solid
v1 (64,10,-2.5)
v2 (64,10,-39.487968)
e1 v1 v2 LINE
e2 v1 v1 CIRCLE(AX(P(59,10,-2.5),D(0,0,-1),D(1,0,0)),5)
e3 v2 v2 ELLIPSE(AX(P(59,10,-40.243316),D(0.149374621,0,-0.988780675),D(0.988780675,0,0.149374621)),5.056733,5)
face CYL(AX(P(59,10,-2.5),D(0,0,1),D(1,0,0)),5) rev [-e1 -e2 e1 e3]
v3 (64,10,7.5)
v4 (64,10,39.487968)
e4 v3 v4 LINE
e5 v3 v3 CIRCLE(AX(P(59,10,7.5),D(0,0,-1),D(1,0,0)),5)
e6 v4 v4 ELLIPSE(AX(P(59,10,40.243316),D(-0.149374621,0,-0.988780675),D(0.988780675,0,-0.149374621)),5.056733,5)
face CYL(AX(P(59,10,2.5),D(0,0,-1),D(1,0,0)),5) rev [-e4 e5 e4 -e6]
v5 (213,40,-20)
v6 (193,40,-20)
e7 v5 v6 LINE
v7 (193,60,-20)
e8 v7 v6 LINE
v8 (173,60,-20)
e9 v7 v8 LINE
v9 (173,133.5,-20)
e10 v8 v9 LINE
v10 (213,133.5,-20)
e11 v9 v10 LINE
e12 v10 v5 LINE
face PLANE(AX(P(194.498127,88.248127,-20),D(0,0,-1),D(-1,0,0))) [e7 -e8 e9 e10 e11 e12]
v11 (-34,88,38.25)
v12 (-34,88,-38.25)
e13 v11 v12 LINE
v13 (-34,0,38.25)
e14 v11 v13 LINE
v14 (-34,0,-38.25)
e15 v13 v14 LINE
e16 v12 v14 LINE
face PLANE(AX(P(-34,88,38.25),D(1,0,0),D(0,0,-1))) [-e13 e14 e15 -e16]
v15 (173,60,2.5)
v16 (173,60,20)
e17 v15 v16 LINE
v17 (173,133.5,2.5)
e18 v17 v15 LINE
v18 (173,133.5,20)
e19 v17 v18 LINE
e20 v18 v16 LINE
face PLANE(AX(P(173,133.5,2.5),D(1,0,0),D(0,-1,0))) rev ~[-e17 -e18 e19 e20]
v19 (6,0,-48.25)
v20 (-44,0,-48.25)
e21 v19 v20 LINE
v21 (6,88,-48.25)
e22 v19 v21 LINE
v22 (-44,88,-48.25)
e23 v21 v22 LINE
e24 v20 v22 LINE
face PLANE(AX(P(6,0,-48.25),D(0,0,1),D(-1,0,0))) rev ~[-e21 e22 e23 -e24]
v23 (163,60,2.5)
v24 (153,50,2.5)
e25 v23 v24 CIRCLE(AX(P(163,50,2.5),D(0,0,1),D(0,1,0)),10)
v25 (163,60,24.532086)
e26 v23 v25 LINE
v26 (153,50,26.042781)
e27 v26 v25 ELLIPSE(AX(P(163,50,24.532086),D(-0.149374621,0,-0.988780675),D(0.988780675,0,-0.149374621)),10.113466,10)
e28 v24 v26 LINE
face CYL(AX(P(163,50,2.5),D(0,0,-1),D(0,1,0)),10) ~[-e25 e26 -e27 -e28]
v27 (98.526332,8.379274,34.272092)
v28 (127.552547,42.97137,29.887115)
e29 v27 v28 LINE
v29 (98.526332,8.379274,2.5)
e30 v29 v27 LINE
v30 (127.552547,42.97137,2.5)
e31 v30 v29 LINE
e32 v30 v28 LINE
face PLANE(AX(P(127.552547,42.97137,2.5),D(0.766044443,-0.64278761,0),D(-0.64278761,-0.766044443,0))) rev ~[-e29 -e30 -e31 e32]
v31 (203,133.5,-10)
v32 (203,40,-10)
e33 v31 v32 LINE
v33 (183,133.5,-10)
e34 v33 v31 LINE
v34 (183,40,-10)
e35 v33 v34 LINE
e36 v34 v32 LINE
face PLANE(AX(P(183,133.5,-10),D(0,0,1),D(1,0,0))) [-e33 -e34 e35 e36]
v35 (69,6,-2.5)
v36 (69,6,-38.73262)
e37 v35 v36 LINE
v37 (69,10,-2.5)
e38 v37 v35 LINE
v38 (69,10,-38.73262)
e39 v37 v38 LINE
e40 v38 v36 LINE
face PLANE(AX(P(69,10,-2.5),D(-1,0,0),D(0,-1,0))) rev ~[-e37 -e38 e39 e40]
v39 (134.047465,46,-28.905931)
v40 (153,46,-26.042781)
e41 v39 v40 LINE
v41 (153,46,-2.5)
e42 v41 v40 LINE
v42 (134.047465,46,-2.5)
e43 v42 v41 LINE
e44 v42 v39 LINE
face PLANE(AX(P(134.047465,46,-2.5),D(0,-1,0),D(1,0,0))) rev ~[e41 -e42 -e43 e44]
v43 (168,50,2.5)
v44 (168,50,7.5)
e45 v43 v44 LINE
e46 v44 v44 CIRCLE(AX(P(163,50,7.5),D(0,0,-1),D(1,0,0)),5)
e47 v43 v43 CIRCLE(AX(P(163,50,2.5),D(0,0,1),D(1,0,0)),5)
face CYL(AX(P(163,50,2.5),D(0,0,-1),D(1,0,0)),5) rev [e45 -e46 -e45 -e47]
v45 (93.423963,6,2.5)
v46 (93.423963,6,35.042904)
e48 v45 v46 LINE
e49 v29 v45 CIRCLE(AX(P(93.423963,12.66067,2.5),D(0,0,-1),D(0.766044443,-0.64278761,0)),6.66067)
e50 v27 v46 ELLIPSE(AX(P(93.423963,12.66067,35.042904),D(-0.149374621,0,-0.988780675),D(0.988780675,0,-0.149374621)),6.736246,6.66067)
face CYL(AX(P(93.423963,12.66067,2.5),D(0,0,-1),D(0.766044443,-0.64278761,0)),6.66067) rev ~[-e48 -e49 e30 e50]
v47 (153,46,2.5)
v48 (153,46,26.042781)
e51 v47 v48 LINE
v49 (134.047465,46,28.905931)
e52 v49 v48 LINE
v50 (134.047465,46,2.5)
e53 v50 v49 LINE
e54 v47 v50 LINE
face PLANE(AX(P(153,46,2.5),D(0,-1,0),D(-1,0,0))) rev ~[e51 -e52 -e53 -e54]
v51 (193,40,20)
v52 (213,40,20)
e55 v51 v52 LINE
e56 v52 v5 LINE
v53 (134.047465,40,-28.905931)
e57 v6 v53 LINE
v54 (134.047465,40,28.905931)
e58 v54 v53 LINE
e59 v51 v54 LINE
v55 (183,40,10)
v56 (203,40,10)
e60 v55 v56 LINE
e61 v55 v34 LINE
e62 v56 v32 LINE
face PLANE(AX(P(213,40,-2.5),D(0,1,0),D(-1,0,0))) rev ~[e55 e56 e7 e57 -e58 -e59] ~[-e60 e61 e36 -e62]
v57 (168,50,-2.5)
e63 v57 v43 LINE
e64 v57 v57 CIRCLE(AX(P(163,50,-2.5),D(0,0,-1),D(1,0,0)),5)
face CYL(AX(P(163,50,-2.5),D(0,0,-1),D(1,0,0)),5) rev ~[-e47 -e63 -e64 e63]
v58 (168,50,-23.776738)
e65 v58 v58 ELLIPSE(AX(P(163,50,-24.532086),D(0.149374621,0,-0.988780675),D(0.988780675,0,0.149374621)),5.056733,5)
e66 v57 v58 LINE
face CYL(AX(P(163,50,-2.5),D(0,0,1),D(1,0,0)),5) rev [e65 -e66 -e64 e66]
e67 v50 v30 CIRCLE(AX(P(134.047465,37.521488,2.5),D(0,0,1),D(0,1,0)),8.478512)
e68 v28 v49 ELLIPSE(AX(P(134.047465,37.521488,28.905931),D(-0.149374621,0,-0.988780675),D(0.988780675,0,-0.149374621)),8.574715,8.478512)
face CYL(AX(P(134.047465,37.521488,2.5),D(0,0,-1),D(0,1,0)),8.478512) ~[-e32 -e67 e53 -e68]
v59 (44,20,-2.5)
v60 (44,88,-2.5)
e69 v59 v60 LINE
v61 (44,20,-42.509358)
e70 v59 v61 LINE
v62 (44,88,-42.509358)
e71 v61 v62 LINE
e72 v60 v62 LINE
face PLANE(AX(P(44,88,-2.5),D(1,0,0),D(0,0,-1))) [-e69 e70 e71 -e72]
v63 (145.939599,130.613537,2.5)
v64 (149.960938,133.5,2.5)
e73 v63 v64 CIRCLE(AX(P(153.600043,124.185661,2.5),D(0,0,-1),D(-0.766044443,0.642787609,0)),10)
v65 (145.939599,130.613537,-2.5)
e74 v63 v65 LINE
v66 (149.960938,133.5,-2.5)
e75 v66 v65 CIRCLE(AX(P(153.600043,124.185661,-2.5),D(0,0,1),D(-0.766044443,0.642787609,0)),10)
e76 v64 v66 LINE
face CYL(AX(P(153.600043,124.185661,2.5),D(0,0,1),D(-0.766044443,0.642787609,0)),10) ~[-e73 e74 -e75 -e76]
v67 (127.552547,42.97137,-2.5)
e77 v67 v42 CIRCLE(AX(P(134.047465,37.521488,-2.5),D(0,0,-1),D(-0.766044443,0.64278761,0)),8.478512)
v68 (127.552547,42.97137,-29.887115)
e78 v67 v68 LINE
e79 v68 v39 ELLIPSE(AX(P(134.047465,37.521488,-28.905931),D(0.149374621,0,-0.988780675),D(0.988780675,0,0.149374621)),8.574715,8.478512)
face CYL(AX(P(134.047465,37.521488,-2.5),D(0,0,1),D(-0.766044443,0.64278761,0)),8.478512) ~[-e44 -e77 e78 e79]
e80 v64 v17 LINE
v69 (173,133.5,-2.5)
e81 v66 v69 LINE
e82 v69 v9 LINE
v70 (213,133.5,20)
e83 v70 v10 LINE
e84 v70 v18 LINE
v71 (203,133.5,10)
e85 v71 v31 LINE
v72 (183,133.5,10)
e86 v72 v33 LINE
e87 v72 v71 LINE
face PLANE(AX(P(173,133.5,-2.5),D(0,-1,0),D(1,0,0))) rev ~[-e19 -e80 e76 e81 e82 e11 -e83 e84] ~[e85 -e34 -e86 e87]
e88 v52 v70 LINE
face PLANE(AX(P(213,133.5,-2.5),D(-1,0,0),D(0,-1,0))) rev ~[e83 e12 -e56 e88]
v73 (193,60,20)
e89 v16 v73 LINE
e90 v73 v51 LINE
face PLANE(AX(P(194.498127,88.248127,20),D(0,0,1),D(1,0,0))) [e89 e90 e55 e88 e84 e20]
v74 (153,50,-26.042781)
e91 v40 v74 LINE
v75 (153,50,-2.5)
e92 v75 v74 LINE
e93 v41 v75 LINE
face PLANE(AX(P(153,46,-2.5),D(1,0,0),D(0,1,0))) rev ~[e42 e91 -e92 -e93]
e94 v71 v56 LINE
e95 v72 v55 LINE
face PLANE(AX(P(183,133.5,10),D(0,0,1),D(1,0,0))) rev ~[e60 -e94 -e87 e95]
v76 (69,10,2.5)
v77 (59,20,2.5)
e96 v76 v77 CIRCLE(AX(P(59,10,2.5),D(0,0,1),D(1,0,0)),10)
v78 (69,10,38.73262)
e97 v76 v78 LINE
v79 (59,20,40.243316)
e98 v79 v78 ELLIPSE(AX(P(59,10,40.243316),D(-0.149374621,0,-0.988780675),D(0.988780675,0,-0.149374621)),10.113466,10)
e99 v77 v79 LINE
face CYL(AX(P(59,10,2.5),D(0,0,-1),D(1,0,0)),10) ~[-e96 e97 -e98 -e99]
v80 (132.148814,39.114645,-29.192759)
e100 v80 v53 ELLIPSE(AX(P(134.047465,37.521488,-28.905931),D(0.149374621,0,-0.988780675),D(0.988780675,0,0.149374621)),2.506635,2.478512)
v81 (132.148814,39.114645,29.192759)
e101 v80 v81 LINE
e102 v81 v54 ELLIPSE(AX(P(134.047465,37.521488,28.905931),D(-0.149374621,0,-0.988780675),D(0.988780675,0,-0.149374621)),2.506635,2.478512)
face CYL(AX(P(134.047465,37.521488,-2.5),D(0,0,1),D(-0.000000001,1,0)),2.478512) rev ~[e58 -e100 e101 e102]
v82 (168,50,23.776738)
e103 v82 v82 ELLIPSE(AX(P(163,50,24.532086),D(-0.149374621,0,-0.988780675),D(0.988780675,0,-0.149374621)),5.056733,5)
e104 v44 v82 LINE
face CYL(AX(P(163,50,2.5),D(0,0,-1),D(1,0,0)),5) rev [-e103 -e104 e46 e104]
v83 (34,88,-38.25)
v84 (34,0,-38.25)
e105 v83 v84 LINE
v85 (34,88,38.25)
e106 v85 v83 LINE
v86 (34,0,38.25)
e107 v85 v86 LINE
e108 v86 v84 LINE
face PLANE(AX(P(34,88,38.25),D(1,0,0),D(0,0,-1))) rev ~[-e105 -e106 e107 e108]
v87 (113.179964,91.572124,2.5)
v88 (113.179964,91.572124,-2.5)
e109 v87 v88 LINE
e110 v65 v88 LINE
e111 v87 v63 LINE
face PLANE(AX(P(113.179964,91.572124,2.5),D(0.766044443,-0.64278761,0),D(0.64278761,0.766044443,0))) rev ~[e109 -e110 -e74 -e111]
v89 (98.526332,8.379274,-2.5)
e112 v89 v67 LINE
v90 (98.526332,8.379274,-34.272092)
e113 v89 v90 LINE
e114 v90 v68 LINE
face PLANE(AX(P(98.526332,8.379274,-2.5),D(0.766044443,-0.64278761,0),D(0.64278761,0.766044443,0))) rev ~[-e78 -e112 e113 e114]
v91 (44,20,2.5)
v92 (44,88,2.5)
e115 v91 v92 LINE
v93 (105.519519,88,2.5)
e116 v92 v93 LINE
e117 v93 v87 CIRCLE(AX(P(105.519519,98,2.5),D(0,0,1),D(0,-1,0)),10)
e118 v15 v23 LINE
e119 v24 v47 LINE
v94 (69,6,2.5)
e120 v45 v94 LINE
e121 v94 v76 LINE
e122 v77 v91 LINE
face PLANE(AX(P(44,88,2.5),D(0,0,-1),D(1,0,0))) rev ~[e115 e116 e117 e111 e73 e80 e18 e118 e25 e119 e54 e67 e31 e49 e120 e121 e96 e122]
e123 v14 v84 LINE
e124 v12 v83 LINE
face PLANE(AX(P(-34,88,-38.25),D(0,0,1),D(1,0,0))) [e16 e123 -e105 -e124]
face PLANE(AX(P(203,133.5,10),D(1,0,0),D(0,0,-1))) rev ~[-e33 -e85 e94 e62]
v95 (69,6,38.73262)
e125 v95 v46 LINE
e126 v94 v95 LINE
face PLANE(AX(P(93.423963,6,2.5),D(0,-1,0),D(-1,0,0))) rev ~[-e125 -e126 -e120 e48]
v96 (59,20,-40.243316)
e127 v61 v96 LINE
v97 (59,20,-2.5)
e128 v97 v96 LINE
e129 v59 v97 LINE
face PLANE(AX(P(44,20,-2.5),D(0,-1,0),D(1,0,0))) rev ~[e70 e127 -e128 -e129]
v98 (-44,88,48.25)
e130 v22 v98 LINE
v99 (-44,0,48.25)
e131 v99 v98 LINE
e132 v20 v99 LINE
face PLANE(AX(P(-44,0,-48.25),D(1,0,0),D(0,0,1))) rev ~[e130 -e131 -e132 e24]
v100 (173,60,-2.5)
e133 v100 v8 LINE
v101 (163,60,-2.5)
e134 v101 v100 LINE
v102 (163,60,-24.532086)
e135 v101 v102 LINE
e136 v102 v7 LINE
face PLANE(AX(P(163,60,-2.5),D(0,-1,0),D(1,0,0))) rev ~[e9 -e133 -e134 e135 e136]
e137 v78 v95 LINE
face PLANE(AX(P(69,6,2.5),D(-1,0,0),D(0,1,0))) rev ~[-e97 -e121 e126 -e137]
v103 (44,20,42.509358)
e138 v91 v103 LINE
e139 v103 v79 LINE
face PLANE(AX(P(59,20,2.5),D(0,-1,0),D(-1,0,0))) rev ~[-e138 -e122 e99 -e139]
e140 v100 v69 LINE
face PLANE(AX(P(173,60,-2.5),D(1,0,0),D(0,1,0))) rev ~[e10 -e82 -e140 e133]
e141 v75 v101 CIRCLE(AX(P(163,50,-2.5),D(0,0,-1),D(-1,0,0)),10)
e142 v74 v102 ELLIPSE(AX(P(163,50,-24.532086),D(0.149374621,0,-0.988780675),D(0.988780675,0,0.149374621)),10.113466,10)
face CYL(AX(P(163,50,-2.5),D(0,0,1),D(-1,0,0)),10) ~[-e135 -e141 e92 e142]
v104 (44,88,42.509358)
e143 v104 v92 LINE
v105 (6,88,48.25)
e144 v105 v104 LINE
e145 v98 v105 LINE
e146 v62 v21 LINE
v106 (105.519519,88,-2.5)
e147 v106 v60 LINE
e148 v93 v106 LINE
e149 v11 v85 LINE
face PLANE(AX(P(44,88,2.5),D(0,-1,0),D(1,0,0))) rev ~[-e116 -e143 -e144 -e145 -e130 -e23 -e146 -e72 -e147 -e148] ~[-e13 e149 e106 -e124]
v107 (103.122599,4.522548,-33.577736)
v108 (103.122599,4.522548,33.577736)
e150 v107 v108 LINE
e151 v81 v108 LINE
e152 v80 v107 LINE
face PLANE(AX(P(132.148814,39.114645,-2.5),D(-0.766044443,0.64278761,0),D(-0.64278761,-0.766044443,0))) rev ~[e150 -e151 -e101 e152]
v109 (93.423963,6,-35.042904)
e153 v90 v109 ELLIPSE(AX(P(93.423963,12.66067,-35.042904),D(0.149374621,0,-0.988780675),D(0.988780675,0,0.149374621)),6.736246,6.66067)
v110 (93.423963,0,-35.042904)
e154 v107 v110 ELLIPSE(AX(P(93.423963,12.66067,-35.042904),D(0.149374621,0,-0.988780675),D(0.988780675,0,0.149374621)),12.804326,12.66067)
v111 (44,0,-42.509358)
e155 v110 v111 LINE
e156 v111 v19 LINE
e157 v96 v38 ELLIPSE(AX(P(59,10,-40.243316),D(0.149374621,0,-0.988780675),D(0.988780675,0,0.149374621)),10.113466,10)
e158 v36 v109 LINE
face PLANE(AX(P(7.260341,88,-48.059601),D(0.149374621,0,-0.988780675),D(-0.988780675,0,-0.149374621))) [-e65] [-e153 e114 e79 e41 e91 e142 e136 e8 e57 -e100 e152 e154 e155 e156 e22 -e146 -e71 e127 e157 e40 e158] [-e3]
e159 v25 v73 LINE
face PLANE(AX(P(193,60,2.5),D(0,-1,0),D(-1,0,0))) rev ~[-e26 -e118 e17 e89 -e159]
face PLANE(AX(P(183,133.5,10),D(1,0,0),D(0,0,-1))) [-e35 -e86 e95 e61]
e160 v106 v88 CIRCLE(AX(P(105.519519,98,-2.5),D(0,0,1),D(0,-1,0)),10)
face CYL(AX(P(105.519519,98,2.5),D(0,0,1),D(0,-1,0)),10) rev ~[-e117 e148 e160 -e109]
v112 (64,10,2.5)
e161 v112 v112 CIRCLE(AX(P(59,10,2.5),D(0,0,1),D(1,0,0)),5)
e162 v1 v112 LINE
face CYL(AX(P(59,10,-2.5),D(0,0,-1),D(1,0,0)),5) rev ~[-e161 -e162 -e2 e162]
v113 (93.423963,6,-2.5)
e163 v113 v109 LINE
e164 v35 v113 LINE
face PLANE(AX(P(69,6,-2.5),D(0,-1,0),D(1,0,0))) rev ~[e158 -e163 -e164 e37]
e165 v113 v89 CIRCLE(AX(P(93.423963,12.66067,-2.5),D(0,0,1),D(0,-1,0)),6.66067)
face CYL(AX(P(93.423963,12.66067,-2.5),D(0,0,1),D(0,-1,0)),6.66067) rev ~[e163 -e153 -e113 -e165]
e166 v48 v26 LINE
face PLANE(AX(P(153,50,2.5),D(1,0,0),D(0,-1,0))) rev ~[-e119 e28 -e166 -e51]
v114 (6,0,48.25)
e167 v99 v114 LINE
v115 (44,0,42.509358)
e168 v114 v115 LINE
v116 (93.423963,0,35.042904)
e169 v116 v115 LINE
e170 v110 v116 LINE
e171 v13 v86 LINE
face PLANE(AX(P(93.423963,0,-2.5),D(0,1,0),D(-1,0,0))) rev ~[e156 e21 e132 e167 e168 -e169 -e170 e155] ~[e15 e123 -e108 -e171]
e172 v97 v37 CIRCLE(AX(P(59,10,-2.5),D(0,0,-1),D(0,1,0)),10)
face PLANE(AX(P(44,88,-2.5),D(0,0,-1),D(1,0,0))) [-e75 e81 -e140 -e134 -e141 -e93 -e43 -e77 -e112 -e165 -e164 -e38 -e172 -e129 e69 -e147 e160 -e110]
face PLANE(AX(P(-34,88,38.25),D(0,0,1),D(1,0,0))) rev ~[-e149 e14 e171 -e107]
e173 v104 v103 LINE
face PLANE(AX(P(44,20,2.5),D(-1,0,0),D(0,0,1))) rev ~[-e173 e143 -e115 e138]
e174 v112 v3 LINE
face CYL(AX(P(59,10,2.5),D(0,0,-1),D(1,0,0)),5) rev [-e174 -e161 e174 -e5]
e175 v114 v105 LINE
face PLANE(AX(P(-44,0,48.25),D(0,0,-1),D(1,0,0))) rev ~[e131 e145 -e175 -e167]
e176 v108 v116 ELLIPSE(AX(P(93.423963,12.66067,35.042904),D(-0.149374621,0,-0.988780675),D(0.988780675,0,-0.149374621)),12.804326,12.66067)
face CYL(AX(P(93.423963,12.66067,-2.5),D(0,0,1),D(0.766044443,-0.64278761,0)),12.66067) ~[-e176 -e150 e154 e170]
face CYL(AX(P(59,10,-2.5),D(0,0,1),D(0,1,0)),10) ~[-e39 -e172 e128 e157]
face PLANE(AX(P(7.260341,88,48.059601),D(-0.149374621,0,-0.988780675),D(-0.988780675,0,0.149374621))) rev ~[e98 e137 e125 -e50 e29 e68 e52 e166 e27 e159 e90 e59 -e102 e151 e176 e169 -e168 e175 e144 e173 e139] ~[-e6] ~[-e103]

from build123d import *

# Parameters (mm, degrees)
BOSS_EXTRU_3_DEPTH       = 88
ESQUISSE4_W              = 68
ESQUISSE4_H              = 76.5
ENL_V_MAT_EXTRU_1_DEPTH  = 236.459258684
ENL_V_MAT_EXTRU_2_DEPTH  = 68
ENL_V_MAT_EXTRU_5_REACH  = 245.615
ESQUISSE6_W              = 150.690647389
ESQUISSE6_H              = 20
BOSS_EXTRU_5_DEPTH       = 20
ESQUISSE14_W             = 40
ESQUISSE14_H             = 40
ENL_V_MAT_EXTRU_6_DEPTH  = 236.459258684
BOSS_EXTRU_8_DEPTH       = 40
ENL_V_MAT_EXTRU_7_DEPTH  = 236.984242059
ESQUISSE27_W             = 169
ESQUISSE27_H             = 5
BOSS_EXTRU_9_DEPTH       = 45.5
BOSS_EXTRU_10_REACH      = 258.45
ESQUISSE28_R             = 5
ENL_V_MAT_EXTRU_9_DEPTH  = 45.5
BOSS_EXTRU_12_DEPTH      = 17.5
ENL_V_MAT_EXTRU_10_REACH = 248.129
BOSS_EXTRU_13_REACH      = 258.45
ESQUISSE34_R             = 5
BOSS_EXTRU_14_DEPTH      = 17.5
ESQUISSE36_W             = 20
ESQUISSE36_H             = 20
ENL_V_MAT_EXTRU_11_DEPTH = 256.967405152
ESQUISSE42_R             = 5
ENL_V_MAT_EXTRU_16_DEPTH = 10
ESQUISSE43_R             = 5
ENL_V_MAT_EXTRU_17_DEPTH = 10


with BuildPart() as part:
    # Esquisse1 → Boss.-Extru.3 (new body)
    with BuildSketch(Plane(origin=(0, 0, 0), x_dir=(1, 0, 0), z_dir=(0, 1, 0))):
        Polygon((193, 20), (6, 48.25), (-44, 48.25), (-44, -48.25), (6, -48.25), (193, -20), (213, -20), (213, 20), align=None)
    extrude(amount=BOSS_EXTRU_3_DEPTH)

    # Esquisse4 → Enlèv. mat.-Extru.1 (cut, through all)
    with BuildSketch(Plane(origin=(0, 88, 0), x_dir=(1, 0, 0), z_dir=(0, 1, 0))):
        Rectangle(ESQUISSE4_W, ESQUISSE4_H)
    extrude(amount=-ENL_V_MAT_EXTRU_1_DEPTH, mode=Mode.SUBTRACT)

    # Esquisse5 → Enlèv. mat.-Extru.2 (cut)
    with BuildSketch(Plane(origin=(0, 88, 0), x_dir=(1, 0, 0), z_dir=(0, 1, 0))):
        Polygon((193, 20), (173, 20), (173, 2.5), (44, 2.5), (44, 42.509358289), align=None)
        Polygon((173, -20), (193, -20), (44, -42.509358289), (44, -2.5), (173, -2.5), align=None)
    extrude(amount=-ENL_V_MAT_EXTRU_2_DEPTH, mode=Mode.SUBTRACT)

    # Enlèv. mat.-Extru.5: up to this plane
    enl_v_mat_extru_5_end = Plane(origin=(173, 20, 2.5), z_dir=(0, 0, -1))
    # Esquisse6 → Enlèv. mat.-Extru.5 (cut, up to the surface)
    with BuildSketch(Plane(origin=(7.260340781, 0, 48.059600925), x_dir=(0.9887806747234926, 0, -0.14937462064673088), z_dir=(0.14937462064673088, 0, 0.9887806747234927)), mode=Mode.PRIVATE) as enl_v_mat_extru_5_sk1:
        with Locations((112.501854115, 10)):
            Rectangle(ESQUISSE6_W, ESQUISSE6_H)
    enl_v_mat_extru_5_tool1 = split(extrude(enl_v_mat_extru_5_sk1.sketch, amount=-ENL_V_MAT_EXTRU_5_REACH, mode=Mode.PRIVATE), bisect_by=enl_v_mat_extru_5_end, keep=Keep.BOTH, mode=Mode.PRIVATE)
    add(enl_v_mat_extru_5_tool1.solids().sort_by_distance((118.5, 10, 31.254679))[0], mode=Mode.SUBTRACT)

    # Esquisse11 → Boss.-Extru.5 (add)
    with BuildSketch(Plane.XZ.offset(-20)):
        Polygon((37.955805499, 2.5), (44, 2.5), (44, 42.509358289), align=None)
    extrude(amount=BOSS_EXTRU_5_DEPTH)

    # Esquisse14 → Enlèv. mat.-Extru.6 (cut, through all)
    with BuildSketch(Plane(origin=(0, 88, 0), x_dir=(1, 0, 0), z_dir=(0, 1, 0))):
        with Locations((193, 0)):
            Rectangle(ESQUISSE14_W, ESQUISSE14_H)
    extrude(amount=-ENL_V_MAT_EXTRU_6_DEPTH, mode=Mode.SUBTRACT)

    # Esquisse22 → Boss.-Extru.8 (add)
    with BuildSketch(Plane(origin=(173, 0, 0), x_dir=(0, 0, -1), z_dir=(1, 0, 0))):
        Polygon((-2.5, 0), (20, 0), (20, 20), (2.5, 20), (2.5, 88), (-2.5, 88), align=None)
    extrude(amount=BOSS_EXTRU_8_DEPTH)

    # Esquisse23 → Enlèv. mat.-Extru.7 (cut, through all)
    with BuildSketch(Plane.XY.offset(2.5)):
        with BuildLine():
            Line((213, 0), (213, 40))
            Line((213, 40), (193, 40))
            Line((193, 40), (159, 40))
            Line((159, 40), (134.047464579, 40))
            ThreePointArc((134.047464579, 40), (133, 39.767782693), (132.14881397, 39.114644681))
            Line((132.14881397, 39.114644681), (103.122598553, 4.522548178))
            ThreePointArc((103.122598553, 4.522548178), (98.774593016, 1.186206186), (93.423962687, 0))
            Line((93.423962687, 0), (213, 0))
        make_face()
    extrude(amount=-ENL_V_MAT_EXTRU_7_DEPTH, mode=Mode.SUBTRACT)

    # Esquisse27 → Boss.-Extru.9 (add)
    with BuildSketch(Plane(origin=(0, 88, 0), x_dir=(1, 0, 0), z_dir=(0, 1, 0))):
        with Locations((128.5, 0)):
            Rectangle(ESQUISSE27_W, ESQUISSE27_H)
    extrude(amount=BOSS_EXTRU_9_DEPTH)

    # Boss.-Extru.10: up to this plane
    boss_extru_10_end = Plane(origin=(7.260340781, 88, 48.059600925), z_dir=(-0.14937462064673085, 0, -0.9887806747234926))
    # Esquisse28 → Boss.-Extru.10 (add, up to the surface)
    with BuildSketch(Plane.XY.offset(2.5), mode=Mode.PRIVATE) as boss_extru_10_sk1:
        with BuildLine():
            Line((103.122598553, 4.522548178), (132.14881397, 39.114644681))
            ThreePointArc((132.14881397, 39.114644681), (133, 39.767782693), (134.047464579, 40))
            Line((134.047464579, 40), (159, 40))
            Line((159, 40), (193, 40))
            Line((193, 40), (193, 60))
            Line((193, 60), (173, 60))
            Line((173, 60), (163, 60))
            ThreePointArc((163, 60), (155.928932188, 57.071067812), (153, 50))
            Line((153, 50), (153, 46))
            Line((153, 46), (134.047464579, 46))
            ThreePointArc((134.047464579, 46), (130.46429043, 45.205629416), (127.552547311, 42.971370339))
            Line((127.552547311, 42.971370339), (98.526331894, 8.379273836))
            ThreePointArc((98.526331894, 8.379273836), (96.238883445, 6.624052908), (93.423962687, 6))
            Line((93.423962687, 6), (69, 6))
            Line((69, 6), (69, 10))
            ThreePointArc((69, 10), (66.071067812, 17.071067812), (59, 20))
            Line((59, 20), (44, 20))
            Line((44, 20), (44, 0))
            Line((44, 0), (63, 0))
            Line((63, 0), (93.423962687, 0))
            ThreePointArc((93.423962687, 0), (98.774593016, 1.186206186), (103.122598553, 4.522548178))
        make_face()
        with Locations((59, 10)):
            Circle(ESQUISSE28_R, mode=Mode.SUBTRACT)
        with Locations((163, 50)):
            Circle(ESQUISSE28_R, mode=Mode.SUBTRACT)
    boss_extru_10_tool1 = split(extrude(boss_extru_10_sk1.sketch, amount=BOSS_EXTRU_10_REACH, mode=Mode.PRIVATE), bisect_by=boss_extru_10_end, keep=Keep.BOTH, mode=Mode.PRIVATE)
    add(boss_extru_10_tool1.solids().sort_by_distance((124.30992, 30.316725, 2.5))[0])

    # Esquisse29 → Enlèv. mat.-Extru.9 (cut)
    with BuildSketch(Plane.XY.offset(2.5)):
        with BuildLine():
            ThreePointArc((145.939599002, 130.613536933), (147.768845256, 132.309522469), (149.96093833, 133.5))
            Line((149.96093833, 133.5), (44, 133.5))
            Line((44, 133.5), (44, 88))
            Line((44, 88), (105.519519296, 88))
            ThreePointArc((105.519519296, 88), (109.745701914, 88.93692213), (113.179963727, 91.572123903))
            Line((113.179963727, 91.572123903), (145.939599002, 130.613536933))
        make_face()
    extrude(amount=-ENL_V_MAT_EXTRU_9_DEPTH, mode=Mode.SUBTRACT)

    # Esquisse31 → Boss.-Extru.12 (add)
    with BuildSketch(Plane.XY.offset(2.5)):
        Polygon((213, 133.5), (173, 133.5), (173, 60), (193, 60), (193, 40), (213, 40), align=None)
    extrude(amount=BOSS_EXTRU_12_DEPTH)

    # Esquisse33 → Enlèv. mat.-Extru.10 (cut, up to next)
    with BuildSketch(Plane(origin=(0, 20, 0), x_dir=(1, 0, 0), z_dir=(0, 1, 0)), mode=Mode.PRIVATE) as enl_v_mat_extru_10_sk1:
        Polygon((44, 42.509358289), (44, 2.5), (116.109722668, 2.5), (116.109722668, 31.615777191), align=None)
    enl_v_mat_extru_10_tool1 = extrude(enl_v_mat_extru_10_sk1.sketch, amount=-ENL_V_MAT_EXTRU_10_REACH, mode=Mode.PRIVATE) & part.part
    add(enl_v_mat_extru_10_tool1.solids().sort_by_distance((78.160873, 20, -19.924346))[0], mode=Mode.SUBTRACT)

    # Boss.-Extru.13: up to this plane
    boss_extru_13_end = Plane(origin=(7.260340781, 88, -48.059600925), z_dir=(0.14937462064673085, 0, -0.9887806747234926))
    # Esquisse34 → Boss.-Extru.13 (add, up to the surface)
    with BuildSketch(Plane(origin=(0, 0, -2.5), x_dir=(-1, 0, 0), z_dir=(0, 0, -1)), mode=Mode.PRIVATE) as boss_extru_13_sk1:
        with BuildLine():
            Line((-44, 0), (-44, 20))
            Line((-44, 20), (-59, 20))
            ThreePointArc((-59, 20), (-66.071067812, 17.071067812), (-69, 10))
            Line((-69, 10), (-69, 6))
            Line((-69, 6), (-93.423962687, 6))
            ThreePointArc((-93.423962687, 6), (-96.238883445, 6.624052908), (-98.526331894, 8.379273836))
            Line((-98.526331894, 8.379273836), (-127.552547311, 42.971370339))
            ThreePointArc((-127.552547311, 42.971370339), (-130.46429043, 45.205629416), (-134.047464579, 46))
            Line((-134.047464579, 46), (-153, 46))
            Line((-153, 46), (-153, 50))
            ThreePointArc((-153, 50), (-155.928932188, 57.071067812), (-163, 60))
            Line((-163, 60), (-173, 60))
            Line((-173, 60), (-193, 60))
            Line((-193, 60), (-193, 40))
            Line((-193, 40), (-159, 40))
            Line((-159, 40), (-134.047464579, 40))
            ThreePointArc((-134.047464579, 40), (-133, 39.767782693), (-132.14881397, 39.114644681))
            Line((-132.14881397, 39.114644681), (-103.122598553, 4.522548178))
            ThreePointArc((-103.122598553, 4.522548178), (-98.774593016, 1.186206186), (-93.423962687, 0))
            Line((-93.423962687, 0), (-63, 0))
            Line((-63, 0), (-44, 0))
        make_face()
        with Locations(Location((-163, 50, 0), (0, 0, 180))):
            Circle(ESQUISSE34_R, mode=Mode.SUBTRACT)
        with Locations(Location((-59, 10, 0), (0, 0, 180))):
            Circle(ESQUISSE34_R, mode=Mode.SUBTRACT)
    boss_extru_13_tool1 = split(extrude(boss_extru_13_sk1.sketch, amount=BOSS_EXTRU_13_REACH, mode=Mode.PRIVATE), bisect_by=boss_extru_13_end, keep=Keep.BOTH, mode=Mode.PRIVATE)
    add(boss_extru_13_tool1.solids().sort_by_distance((124.30992, 30.316725, -2.5))[0])

    # Esquisse35 → Boss.-Extru.14 (add)
    with BuildSketch(Plane(origin=(0, 0, -2.5), x_dir=(-1, 0, 0), z_dir=(0, 0, -1))):
        Polygon((-173, 60), (-173, 133.5), (-213, 133.5), (-213, 40), (-193, 40), (-193, 60), align=None)
    extrude(amount=BOSS_EXTRU_14_DEPTH)

    # Esquisse36 → Enlèv. mat.-Extru.11 (cut, through all)
    with BuildSketch(Plane(origin=(0, 133.5, 0), x_dir=(1, 0, 0), z_dir=(0, 1, 0))):
        with Locations((193, 0)):
            Rectangle(ESQUISSE36_W, ESQUISSE36_H)
    extrude(amount=-ENL_V_MAT_EXTRU_11_DEPTH, mode=Mode.SUBTRACT)

    # Esquisse42 → Enlèv. mat.-Extru.16 (cut)
    with BuildSketch(Plane(origin=(0, 0, -2.5), x_dir=(-1, 0, 0), z_dir=(0, 0, -1))):
        with Locations(Location((-59, 10, 0), (0, 0, 180))):
            Circle(ESQUISSE42_R)
    extrude(amount=-ENL_V_MAT_EXTRU_16_DEPTH, mode=Mode.SUBTRACT)

    # Esquisse43 → Enlèv. mat.-Extru.17 (cut)
    with BuildSketch(Plane(origin=(0, 0, -2.5), x_dir=(-1, 0, 0), z_dir=(0, 0, -1))):
        with Locations(Location((-163, 50, 0), (0, 0, 180))):
            Circle(ESQUISSE43_R)
    extrude(amount=-ENL_V_MAT_EXTRU_17_DEPTH, mode=Mode.SUBTRACT)


solid = part.part
